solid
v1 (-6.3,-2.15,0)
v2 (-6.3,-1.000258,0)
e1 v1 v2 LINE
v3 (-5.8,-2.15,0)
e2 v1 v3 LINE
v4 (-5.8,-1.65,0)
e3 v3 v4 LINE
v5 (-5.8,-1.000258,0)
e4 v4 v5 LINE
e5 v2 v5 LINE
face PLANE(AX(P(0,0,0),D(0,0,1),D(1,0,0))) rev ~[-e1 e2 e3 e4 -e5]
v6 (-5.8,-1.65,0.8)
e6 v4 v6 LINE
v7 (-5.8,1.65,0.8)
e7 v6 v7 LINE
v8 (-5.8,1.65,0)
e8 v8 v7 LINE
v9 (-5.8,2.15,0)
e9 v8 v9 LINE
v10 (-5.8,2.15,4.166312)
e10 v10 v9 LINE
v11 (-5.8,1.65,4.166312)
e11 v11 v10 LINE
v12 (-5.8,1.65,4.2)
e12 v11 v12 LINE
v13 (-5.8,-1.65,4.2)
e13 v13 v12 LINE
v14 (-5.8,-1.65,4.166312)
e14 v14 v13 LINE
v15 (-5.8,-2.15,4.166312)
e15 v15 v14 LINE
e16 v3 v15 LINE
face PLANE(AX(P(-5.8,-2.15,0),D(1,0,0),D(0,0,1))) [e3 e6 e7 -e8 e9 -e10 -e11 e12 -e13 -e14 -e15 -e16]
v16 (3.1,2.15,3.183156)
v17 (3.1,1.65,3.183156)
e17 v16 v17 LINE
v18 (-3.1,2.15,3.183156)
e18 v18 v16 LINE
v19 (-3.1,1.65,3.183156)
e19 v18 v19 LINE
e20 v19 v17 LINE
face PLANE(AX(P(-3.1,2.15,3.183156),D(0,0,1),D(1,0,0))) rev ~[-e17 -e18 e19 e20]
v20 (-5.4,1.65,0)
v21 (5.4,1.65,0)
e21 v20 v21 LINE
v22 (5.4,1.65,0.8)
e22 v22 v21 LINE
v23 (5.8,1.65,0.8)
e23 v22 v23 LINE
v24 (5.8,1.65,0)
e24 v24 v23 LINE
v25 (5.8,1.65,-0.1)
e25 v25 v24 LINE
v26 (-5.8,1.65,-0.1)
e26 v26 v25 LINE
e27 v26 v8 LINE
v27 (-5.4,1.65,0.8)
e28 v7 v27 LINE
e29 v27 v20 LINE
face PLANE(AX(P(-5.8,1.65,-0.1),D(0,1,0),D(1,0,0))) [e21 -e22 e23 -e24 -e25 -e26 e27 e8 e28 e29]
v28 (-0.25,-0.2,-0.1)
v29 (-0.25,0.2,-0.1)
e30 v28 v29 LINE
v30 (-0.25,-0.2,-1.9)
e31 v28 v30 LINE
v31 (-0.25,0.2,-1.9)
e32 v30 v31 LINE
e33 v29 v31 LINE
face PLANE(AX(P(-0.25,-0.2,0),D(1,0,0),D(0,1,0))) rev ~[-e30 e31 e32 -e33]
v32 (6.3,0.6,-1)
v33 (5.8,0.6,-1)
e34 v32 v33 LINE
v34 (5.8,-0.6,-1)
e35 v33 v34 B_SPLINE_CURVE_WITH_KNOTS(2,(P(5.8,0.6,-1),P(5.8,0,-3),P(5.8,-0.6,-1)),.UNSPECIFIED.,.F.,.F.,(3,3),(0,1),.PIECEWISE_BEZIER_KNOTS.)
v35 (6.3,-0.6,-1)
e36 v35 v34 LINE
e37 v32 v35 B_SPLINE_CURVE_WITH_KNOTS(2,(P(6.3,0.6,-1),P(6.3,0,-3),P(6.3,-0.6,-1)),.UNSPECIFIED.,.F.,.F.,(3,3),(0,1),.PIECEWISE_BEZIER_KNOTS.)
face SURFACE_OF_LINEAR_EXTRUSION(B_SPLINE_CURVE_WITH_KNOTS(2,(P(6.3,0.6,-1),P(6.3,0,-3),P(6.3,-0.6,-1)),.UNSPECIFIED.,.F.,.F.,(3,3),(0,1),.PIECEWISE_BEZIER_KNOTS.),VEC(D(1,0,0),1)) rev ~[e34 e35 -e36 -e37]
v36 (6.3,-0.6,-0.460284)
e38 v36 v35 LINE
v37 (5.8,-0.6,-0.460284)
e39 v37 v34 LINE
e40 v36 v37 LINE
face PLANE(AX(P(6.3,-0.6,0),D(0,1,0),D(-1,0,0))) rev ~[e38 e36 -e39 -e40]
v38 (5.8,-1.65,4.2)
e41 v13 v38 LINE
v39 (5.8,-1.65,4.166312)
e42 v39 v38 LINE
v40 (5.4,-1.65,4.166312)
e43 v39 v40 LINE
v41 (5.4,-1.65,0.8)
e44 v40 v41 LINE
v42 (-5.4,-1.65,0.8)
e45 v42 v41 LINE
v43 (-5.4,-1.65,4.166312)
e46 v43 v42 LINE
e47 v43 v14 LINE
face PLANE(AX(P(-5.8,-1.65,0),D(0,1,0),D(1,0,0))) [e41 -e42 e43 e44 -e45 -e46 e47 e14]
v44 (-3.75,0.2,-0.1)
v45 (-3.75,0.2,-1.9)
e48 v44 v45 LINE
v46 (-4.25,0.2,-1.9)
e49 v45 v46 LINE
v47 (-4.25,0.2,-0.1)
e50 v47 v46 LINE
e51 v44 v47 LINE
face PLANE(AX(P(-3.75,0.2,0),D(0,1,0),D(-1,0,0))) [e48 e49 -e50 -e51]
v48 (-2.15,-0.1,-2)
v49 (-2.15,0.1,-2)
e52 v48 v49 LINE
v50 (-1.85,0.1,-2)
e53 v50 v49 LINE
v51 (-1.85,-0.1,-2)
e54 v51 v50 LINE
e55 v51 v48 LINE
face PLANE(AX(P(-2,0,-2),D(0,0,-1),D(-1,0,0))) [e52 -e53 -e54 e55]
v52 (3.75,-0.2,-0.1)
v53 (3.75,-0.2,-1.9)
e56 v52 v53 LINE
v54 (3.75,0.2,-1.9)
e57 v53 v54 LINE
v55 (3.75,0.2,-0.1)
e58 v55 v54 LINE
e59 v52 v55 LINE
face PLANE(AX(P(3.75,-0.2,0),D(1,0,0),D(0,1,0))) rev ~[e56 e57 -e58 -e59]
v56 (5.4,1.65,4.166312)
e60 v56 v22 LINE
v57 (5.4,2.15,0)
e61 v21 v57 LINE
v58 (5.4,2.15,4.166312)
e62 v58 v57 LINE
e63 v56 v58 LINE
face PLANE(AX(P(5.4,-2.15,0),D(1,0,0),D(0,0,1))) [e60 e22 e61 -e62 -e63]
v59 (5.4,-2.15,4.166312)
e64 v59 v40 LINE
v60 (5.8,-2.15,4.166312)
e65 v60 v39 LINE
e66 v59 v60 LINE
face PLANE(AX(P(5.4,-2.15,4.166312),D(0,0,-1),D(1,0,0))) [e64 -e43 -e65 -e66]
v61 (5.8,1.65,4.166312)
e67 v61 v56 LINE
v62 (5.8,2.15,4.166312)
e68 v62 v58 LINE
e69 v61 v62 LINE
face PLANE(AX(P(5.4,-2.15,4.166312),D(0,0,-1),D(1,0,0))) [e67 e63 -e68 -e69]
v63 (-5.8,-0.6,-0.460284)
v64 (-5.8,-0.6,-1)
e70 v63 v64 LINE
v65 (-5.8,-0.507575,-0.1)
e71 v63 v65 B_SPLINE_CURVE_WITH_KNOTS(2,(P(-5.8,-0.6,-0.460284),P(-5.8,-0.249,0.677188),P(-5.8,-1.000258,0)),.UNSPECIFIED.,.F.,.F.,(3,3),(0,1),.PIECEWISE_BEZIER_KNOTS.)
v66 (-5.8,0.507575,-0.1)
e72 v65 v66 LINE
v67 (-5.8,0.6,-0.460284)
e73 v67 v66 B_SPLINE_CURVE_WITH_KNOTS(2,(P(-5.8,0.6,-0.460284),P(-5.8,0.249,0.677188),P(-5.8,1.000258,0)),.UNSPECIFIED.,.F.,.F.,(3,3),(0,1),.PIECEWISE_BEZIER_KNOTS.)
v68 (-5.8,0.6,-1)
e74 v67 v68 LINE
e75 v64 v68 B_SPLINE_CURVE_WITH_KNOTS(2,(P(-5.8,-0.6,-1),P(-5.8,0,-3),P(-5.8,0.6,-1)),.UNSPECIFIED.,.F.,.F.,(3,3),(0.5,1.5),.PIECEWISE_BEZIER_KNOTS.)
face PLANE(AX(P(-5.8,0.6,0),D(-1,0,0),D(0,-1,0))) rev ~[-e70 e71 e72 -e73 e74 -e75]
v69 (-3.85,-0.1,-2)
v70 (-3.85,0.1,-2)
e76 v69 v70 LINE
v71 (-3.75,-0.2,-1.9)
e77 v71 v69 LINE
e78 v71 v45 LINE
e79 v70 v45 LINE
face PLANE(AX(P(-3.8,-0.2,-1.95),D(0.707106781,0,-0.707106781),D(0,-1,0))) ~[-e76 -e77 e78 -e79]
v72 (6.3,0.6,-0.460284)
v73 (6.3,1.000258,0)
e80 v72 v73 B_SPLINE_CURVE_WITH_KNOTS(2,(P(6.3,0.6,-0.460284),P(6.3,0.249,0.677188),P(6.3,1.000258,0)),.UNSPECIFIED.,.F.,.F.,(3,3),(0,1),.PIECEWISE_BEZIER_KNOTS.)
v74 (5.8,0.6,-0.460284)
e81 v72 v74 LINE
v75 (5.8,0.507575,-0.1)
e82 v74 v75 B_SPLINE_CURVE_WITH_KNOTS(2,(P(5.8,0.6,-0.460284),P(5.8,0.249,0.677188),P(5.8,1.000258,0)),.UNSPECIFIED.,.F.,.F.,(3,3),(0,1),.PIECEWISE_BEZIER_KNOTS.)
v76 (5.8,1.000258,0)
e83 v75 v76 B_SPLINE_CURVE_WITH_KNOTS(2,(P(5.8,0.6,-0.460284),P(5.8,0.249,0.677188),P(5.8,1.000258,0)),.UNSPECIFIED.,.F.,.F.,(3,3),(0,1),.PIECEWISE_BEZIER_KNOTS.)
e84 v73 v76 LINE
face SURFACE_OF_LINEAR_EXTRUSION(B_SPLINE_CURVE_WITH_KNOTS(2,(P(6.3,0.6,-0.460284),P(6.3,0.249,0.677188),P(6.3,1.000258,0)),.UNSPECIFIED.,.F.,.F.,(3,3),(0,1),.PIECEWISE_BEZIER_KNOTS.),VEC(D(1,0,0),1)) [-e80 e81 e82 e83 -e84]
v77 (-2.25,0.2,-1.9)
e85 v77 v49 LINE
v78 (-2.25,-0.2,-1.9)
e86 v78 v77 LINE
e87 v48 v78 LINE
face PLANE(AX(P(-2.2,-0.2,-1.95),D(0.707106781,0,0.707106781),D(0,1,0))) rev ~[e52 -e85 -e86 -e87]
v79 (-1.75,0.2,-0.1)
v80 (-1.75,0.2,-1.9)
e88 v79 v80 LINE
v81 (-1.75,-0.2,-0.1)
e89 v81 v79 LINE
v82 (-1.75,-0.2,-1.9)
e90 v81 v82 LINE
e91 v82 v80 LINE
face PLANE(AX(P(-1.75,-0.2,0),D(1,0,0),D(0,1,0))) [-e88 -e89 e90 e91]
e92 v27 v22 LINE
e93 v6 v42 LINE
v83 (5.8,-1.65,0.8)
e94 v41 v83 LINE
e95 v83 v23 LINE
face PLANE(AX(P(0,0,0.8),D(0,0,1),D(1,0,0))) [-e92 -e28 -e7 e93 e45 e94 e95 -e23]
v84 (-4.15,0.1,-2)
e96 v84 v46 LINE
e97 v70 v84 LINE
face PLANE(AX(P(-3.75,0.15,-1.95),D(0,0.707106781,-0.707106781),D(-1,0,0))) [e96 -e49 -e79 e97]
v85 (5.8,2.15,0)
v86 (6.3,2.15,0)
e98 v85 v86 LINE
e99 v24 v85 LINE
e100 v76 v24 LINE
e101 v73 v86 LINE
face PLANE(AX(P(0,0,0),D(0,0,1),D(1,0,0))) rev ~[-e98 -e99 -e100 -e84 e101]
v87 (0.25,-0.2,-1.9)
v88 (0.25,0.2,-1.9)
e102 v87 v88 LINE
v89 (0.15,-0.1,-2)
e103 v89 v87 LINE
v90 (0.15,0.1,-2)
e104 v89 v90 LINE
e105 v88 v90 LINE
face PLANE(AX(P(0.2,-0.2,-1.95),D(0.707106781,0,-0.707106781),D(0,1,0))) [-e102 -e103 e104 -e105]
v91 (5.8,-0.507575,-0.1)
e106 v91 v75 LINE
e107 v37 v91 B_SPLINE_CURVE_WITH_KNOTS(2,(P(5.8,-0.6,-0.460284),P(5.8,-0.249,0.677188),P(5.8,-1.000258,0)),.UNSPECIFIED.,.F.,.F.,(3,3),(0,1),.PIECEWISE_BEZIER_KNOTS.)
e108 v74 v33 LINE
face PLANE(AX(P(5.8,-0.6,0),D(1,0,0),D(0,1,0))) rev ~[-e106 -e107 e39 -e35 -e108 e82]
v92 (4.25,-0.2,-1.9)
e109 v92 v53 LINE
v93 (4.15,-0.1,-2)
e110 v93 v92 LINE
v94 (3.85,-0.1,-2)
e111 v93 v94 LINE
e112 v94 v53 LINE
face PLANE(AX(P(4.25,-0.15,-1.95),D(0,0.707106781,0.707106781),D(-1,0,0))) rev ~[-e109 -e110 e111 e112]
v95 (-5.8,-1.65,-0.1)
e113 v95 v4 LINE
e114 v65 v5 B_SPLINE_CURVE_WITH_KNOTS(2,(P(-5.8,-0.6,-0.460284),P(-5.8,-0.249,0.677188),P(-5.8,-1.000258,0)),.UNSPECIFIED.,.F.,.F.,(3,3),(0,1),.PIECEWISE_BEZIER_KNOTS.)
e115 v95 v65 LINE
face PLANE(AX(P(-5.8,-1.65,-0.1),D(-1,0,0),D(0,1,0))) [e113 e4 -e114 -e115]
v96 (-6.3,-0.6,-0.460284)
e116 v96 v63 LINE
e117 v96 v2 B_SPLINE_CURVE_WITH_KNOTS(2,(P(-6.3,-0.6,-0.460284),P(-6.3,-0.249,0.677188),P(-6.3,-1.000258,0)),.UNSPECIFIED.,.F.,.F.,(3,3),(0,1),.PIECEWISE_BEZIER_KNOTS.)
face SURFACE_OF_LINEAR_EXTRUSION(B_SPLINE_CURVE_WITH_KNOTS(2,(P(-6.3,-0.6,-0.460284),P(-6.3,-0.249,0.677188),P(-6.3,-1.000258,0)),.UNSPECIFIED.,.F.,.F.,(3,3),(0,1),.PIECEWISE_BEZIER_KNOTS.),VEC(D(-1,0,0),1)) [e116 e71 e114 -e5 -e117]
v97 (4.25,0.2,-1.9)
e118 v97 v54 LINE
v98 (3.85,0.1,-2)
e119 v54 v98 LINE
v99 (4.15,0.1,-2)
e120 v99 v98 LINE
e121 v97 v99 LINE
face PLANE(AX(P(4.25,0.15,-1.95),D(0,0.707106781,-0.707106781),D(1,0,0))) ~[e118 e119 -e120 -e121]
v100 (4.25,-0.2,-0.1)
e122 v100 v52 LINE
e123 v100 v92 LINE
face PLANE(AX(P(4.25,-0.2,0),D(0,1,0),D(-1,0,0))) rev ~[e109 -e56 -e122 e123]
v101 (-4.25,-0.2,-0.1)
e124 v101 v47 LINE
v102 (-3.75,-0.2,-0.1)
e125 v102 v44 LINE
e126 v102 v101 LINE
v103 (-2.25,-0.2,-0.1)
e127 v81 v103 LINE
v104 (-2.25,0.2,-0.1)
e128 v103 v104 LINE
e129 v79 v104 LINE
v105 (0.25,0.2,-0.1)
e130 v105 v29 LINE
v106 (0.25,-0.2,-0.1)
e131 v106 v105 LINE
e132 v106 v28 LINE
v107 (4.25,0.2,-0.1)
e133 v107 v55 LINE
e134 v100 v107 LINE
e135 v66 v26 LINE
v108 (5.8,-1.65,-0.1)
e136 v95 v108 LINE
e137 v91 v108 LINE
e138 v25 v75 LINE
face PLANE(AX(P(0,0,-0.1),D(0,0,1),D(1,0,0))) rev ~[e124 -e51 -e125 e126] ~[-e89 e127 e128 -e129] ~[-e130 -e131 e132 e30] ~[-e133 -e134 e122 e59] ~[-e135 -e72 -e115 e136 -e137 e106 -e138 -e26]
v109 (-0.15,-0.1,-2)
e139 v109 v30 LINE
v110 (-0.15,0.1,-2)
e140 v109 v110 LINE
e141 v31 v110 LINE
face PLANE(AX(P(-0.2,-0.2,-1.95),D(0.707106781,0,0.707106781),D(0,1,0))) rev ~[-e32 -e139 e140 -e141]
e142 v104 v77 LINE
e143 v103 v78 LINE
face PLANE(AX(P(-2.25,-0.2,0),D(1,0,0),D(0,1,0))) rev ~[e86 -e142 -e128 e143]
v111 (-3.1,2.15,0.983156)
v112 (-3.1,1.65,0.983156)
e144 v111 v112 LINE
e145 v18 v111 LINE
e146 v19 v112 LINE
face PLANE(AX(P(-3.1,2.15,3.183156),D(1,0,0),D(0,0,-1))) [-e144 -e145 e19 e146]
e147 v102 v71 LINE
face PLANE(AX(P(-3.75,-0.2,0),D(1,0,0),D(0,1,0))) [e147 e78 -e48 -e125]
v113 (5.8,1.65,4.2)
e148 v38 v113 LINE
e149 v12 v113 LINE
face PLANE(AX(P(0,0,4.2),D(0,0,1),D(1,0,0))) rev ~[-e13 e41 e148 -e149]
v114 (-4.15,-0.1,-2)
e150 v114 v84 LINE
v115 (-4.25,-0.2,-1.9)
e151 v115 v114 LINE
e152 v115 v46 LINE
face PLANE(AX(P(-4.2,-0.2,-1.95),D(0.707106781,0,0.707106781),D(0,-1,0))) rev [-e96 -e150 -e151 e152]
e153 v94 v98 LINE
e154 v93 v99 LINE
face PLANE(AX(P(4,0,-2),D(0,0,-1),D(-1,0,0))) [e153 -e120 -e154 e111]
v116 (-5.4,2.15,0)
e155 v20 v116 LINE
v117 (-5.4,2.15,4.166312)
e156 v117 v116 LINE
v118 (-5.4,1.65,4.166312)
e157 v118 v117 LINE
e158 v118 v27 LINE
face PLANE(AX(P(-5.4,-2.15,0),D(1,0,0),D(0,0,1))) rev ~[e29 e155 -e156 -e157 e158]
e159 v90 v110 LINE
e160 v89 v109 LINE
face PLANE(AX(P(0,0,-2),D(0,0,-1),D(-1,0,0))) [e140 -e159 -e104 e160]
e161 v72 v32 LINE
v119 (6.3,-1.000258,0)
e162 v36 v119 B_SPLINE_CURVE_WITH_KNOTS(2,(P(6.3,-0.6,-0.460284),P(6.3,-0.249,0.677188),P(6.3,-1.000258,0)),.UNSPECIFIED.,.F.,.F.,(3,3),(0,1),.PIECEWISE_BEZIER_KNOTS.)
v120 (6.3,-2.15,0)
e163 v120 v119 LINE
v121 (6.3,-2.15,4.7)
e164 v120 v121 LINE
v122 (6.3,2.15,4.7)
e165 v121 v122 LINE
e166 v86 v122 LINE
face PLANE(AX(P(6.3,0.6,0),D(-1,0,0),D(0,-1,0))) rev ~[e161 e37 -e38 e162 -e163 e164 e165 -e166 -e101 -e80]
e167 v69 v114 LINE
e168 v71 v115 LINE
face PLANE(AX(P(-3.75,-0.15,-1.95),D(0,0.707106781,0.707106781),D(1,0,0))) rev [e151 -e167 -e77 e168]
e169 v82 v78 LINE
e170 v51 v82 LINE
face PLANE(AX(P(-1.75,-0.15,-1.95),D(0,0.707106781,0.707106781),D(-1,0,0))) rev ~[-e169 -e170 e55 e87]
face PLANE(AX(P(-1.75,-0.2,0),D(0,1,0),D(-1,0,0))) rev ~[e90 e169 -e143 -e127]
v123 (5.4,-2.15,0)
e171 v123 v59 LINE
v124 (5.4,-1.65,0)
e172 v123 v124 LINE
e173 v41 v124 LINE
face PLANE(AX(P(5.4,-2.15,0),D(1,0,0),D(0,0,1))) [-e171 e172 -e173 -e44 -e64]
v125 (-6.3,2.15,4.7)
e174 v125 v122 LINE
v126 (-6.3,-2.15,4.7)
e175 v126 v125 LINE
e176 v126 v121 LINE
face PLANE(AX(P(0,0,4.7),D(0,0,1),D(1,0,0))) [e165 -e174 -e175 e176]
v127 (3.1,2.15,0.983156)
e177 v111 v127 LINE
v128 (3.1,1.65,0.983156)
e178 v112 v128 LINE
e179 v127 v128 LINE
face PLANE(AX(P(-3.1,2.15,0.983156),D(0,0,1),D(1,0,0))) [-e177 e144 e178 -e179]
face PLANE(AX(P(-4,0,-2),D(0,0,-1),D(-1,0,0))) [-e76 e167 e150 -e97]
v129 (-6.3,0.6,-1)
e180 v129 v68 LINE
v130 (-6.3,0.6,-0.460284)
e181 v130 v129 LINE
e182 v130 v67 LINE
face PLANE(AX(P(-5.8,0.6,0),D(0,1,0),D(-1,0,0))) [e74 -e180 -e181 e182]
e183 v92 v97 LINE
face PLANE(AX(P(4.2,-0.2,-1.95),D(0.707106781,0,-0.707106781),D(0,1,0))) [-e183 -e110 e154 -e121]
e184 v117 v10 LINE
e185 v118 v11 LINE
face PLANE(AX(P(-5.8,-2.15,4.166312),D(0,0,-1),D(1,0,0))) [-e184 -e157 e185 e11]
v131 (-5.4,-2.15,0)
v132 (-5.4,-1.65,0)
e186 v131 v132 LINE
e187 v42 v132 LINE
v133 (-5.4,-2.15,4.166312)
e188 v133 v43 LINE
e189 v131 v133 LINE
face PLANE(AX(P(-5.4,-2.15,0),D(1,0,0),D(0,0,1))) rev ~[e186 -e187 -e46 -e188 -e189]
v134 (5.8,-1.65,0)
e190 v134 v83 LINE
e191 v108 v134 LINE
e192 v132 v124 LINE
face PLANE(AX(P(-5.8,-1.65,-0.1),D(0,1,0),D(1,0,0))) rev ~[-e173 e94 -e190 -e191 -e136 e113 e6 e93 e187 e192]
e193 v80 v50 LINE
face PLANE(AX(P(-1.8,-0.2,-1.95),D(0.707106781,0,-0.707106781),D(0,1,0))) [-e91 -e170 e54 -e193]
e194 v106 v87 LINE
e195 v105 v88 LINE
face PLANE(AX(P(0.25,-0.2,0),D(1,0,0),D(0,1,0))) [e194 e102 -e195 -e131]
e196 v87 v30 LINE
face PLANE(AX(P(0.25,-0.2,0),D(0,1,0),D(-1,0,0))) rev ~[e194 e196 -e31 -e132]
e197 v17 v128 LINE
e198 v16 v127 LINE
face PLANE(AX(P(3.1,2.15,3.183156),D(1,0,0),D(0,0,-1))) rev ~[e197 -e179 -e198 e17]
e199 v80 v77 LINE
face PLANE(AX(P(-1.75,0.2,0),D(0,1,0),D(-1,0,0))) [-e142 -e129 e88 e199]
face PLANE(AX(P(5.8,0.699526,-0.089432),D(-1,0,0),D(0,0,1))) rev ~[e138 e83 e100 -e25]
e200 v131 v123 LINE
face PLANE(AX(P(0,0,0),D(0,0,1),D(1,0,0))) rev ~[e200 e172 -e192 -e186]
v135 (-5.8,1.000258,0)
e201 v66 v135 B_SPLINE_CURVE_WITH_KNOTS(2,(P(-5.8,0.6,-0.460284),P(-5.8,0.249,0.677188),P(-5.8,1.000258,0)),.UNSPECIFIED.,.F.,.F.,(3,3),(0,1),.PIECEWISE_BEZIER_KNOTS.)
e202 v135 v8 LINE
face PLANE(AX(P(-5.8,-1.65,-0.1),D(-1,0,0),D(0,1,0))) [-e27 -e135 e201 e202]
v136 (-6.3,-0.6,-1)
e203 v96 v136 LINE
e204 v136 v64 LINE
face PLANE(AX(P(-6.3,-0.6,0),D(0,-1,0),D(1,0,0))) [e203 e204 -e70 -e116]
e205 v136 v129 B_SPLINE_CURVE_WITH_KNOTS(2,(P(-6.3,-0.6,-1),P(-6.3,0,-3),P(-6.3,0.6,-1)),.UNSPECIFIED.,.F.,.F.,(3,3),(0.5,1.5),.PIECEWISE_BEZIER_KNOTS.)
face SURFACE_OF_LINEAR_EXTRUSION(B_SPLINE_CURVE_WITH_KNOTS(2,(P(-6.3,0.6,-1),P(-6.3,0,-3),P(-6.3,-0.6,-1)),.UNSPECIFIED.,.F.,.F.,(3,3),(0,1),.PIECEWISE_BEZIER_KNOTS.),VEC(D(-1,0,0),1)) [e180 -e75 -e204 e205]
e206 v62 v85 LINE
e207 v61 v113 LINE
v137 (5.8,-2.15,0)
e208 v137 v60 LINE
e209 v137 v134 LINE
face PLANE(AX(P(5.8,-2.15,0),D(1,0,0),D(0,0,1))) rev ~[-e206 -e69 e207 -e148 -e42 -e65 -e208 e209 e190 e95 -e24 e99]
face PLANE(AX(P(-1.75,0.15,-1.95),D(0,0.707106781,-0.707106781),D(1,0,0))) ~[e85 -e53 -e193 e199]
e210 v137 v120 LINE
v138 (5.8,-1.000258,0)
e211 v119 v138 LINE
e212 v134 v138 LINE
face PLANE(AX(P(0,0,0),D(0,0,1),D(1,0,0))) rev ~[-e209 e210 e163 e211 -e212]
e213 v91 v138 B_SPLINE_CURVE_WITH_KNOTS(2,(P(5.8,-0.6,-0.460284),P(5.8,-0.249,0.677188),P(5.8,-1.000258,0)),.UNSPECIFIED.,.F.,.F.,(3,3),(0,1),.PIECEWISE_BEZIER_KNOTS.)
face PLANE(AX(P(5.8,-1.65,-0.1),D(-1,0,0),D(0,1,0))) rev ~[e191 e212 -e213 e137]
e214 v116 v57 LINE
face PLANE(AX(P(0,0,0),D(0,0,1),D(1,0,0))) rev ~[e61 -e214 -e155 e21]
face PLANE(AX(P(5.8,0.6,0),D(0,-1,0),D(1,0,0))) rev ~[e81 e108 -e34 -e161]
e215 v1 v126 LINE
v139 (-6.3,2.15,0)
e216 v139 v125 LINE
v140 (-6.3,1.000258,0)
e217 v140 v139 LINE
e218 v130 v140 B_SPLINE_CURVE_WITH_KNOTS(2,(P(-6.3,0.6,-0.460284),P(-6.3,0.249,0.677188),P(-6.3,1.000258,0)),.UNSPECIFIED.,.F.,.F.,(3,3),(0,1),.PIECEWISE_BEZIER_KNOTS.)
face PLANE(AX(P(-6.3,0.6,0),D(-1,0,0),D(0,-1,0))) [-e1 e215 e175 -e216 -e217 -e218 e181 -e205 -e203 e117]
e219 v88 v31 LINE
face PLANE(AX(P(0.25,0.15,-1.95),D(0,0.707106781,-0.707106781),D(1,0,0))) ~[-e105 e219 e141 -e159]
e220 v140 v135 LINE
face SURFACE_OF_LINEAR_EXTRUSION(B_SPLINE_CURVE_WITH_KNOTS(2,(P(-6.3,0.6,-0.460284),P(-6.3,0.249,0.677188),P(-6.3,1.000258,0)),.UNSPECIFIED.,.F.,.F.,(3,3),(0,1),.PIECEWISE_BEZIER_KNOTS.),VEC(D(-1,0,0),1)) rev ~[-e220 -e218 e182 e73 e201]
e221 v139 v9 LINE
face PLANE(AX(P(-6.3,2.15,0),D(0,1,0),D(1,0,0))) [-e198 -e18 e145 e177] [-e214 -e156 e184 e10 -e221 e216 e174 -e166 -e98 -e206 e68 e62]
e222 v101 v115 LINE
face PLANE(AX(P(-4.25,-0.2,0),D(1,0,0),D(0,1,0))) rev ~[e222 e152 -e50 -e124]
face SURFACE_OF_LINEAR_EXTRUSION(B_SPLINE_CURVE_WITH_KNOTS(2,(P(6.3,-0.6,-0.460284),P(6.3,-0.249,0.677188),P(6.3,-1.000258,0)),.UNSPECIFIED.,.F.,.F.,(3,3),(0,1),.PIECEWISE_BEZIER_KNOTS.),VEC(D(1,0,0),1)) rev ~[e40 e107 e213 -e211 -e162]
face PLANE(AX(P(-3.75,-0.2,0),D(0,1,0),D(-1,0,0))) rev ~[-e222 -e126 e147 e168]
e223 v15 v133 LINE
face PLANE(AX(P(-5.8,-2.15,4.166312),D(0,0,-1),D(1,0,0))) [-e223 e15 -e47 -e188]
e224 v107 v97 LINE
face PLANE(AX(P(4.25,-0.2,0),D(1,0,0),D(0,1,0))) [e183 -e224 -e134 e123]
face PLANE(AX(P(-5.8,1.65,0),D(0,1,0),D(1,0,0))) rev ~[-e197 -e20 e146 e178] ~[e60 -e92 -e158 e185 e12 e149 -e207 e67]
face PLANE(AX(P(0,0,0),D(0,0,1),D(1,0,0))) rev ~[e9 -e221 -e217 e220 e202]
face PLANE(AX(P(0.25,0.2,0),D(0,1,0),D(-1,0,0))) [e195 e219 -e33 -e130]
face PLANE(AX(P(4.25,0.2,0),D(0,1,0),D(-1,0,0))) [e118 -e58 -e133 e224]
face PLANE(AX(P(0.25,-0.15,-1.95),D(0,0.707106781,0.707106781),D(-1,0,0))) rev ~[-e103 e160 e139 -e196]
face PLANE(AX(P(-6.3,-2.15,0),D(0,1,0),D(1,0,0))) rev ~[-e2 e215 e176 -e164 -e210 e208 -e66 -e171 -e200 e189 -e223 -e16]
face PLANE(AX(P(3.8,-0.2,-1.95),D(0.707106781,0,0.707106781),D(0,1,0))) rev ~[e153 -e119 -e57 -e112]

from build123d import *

# Parameters (mm, degrees)
SKETCH_1_W           = 12.6
SKETCH_1_H           = 4.3
SKETCH_1_W_2         = 11.6
SKETCH_1_H_2         = 3.3
EXTRUDE_1_DEPTH      = 4.7
SKETCH_4_W           = 11.6
SKETCH_4_H           = 3.3
EXTRUDE_3_DEPTH      = 0.5
SKETCH_6_W           = 0.4
SKETCH_6_H           = 4.166312425
CUT_EXTRUDE_2_DEPTH  = 9.959352655
EXTRUDE_4_DEPTH      = 0.8
EXTRUDE_4_DEPTH_BACK = 0.1
SKETCH_7_W           = 11.6
SKETCH_7_H           = 3.3
EXTRUDE_START        = -0.1
SKETCH_8_W           = 0.5
SKETCH_8_H           = 0.4
EXTRUDE_5_DEPTH      = 2
SKETCH_9_W           = 6.2
SKETCH_9_H           = 2.2
CUT_EXTRUDE_3_DEPTH  = 0.5
CUT_EXTRUDE_4_DEPTH  = 0.5
CUT_EXTRUDE_START    = -12.6
CUT_EXTRUDE_5_DEPTH  = 0.5
CHAMFER_1_SIZE       = 0.1


with BuildPart() as part:
    # 草图1 → 拉伸-薄壁1 (new body)
    with BuildSketch(Plane.XY):
        Rectangle(SKETCH_1_W, SKETCH_1_H)
        Rectangle(SKETCH_1_W_2, SKETCH_1_H_2, mode=Mode.SUBTRACT)
    extrude(amount=EXTRUDE_1_DEPTH)

    # 草图4 → 凸台-拉伸3 (add)
    with BuildSketch(Plane.XY.offset(4.7)):
        Rectangle(SKETCH_4_W, SKETCH_4_H)
    extrude(amount=-EXTRUDE_3_DEPTH)

    # 草图6 → 切除-拉伸2 (cut, through all)
    with BuildSketch(Plane.XZ.offset(2.15)):
        with Locations((-5.6, 2.083156213)):
            Rectangle(SKETCH_6_W, SKETCH_6_H)
        with Locations((5.6, 2.083156213)):
            Rectangle(SKETCH_6_W, SKETCH_6_H)
    extrude(amount=-CUT_EXTRUDE_2_DEPTH, mode=Mode.SUBTRACT)



with BuildPart() as body_2:
    # 草图7 → 凸台-拉伸4 (new, two sides: drawn at the far end of the back side and taken through both)
    with BuildSketch(Plane.XY.offset(-EXTRUDE_4_DEPTH_BACK)):
        Rectangle(SKETCH_7_W, SKETCH_7_H)
    extrude(amount=EXTRUDE_4_DEPTH + EXTRUDE_4_DEPTH_BACK)


with BuildPart() as part_1:
    add(part.part)

    add(body_2.part)  # 凸台-拉伸5 merges body 2
    # 草图8 → 凸台-拉伸5 (add)
    with BuildSketch(Plane(origin=(0, 0, -0.1), x_dir=(-1, 0, 0), z_dir=(0, 0, -1)).offset(EXTRUDE_START)):
        with Locations((4, 0)):
            Rectangle(SKETCH_8_W, SKETCH_8_H)
        with Locations((2, 0)):
            Rectangle(SKETCH_8_W, SKETCH_8_H)
        Rectangle(SKETCH_8_W, SKETCH_8_H)
        with Locations((-4, 0)):
            Rectangle(SKETCH_8_W, SKETCH_8_H)
        Polygon((-5.8, 0), (-5.8, 0.6), (-6.3, 0.6), (-6.3, -0.6), (-5.8, -0.6), align=None)
        Polygon((5.8, -0.6), (5.8, 0), (5.8, 0.6), (6.3, 0.6), (6.3, -0.6), align=None)
    extrude(amount=EXTRUDE_5_DEPTH)

    # 草图9 → 切除-拉伸3 (cut)
    with BuildSketch(Plane(origin=(0, 2.15, 0), x_dir=(1, 0, 0), z_dir=(0, 1, 0))):
        with Locations((0, -2.083156212)):
            Rectangle(SKETCH_9_W, SKETCH_9_H)
    extrude(amount=-CUT_EXTRUDE_3_DEPTH, mode=Mode.SUBTRACT)

    # 草图10 → 切除-拉伸4 (cut)
    with BuildSketch(Plane(origin=(6.3, 0, 0), x_dir=(0, 0, -1), z_dir=(1, 0, 0))):
        with BuildLine():
            Line((0, 1.000258095), (0.460284105, 0.6))
            add(Edge.make_bspline(
                [(0.460284105, 0.6), (-0.677187697, 0.248999902), (0, 1.000258095)],
                knots=[0, 0, 0, 1, 1, 1], degree=2))
        make_face()
        with BuildLine():
            Line((0.460284105, -0.6), (0, -1.000258095))
            add(Edge.make_bspline(
                [(0.460284105, -0.6), (-0.677187697, -0.248999902), (0, -1.000258095)],
                knots=[0, 0, 0, 1, 1, 1], degree=2))
        make_face()
        with BuildLine():
            Line((1, 0.6), (4, 0.6))
            Line((4, 0.6), (4.247891551, 0.6))
            Line((4.247891551, 0.6), (4.247891551, -0.6))
            Line((4.247891551, -0.6), (1, -0.6))
            add(Edge.make_bspline(
                [(1, 0.6), (3, 0), (1, -0.6)],
                knots=[0, 0, 0, 1, 1, 1], degree=2))
        make_face()
    extrude(amount=-CUT_EXTRUDE_4_DEPTH, mode=Mode.SUBTRACT)

    # 草图10<2> → 切除-拉伸5 (cut)
    with BuildSketch(Plane(origin=(6.3, 0, 0), x_dir=(0, 0, -1), z_dir=(1, 0, 0)).offset(CUT_EXTRUDE_START)):
        with BuildLine():
            Line((0, 1.000258095), (0.460284105, 0.6))
            add(Edge.make_bspline(
                [(0.460284105, 0.6), (-0.677187697, 0.248999902), (0, 1.000258095)],
                knots=[0, 0, 0, 1, 1, 1], degree=2))
        make_face()
        with BuildLine():
            Line((0.460284105, -0.6), (0, -1.000258095))
            add(Edge.make_bspline(
                [(0.460284105, -0.6), (-0.677187697, -0.248999902), (0, -1.000258095)],
                knots=[0, 0, 0, 1, 1, 1], degree=2))
        make_face()
        with BuildLine():
            Line((1, 0.6), (4, 0.6))
            Line((4, 0.6), (4.247891551, 0.6))
            Line((4.247891551, 0.6), (4.247891551, -0.6))
            Line((4.247891551, -0.6), (1, -0.6))
            add(Edge.make_bspline(
                [(1, 0.6), (3, 0), (1, -0.6)],
                knots=[0, 0, 0, 1, 1, 1], degree=2))
        make_face()
    extrude(amount=CUT_EXTRUDE_5_DEPTH, mode=Mode.SUBTRACT)

    # 倒角1
    chamfer_1_edges = [part_1.edges().sort_by_distance(p)[0] for p in [
        (-4, 0.2, -2),
        (-3.75, 0, -2),
        (-4, -0.2, -2),
        (-4.25, 0, -2),
        (-2, 0.2, -2),
        (-1.75, 0, -2),
        (-2, -0.2, -2),
        (-2.25, 0, -2),
        (4, 0.2, -2),
        (4.25, 0, -2),
        (4, -0.2, -2),
        (3.75, 0, -2),
        (0, 0.2, -2),
        (0.25, 0, -2),
        (0, -0.2, -2),
        (-0.25, 0, -2),
    ]]
    chamfer(chamfer_1_edges, length=CHAMFER_1_SIZE)


solid = part_1.part
